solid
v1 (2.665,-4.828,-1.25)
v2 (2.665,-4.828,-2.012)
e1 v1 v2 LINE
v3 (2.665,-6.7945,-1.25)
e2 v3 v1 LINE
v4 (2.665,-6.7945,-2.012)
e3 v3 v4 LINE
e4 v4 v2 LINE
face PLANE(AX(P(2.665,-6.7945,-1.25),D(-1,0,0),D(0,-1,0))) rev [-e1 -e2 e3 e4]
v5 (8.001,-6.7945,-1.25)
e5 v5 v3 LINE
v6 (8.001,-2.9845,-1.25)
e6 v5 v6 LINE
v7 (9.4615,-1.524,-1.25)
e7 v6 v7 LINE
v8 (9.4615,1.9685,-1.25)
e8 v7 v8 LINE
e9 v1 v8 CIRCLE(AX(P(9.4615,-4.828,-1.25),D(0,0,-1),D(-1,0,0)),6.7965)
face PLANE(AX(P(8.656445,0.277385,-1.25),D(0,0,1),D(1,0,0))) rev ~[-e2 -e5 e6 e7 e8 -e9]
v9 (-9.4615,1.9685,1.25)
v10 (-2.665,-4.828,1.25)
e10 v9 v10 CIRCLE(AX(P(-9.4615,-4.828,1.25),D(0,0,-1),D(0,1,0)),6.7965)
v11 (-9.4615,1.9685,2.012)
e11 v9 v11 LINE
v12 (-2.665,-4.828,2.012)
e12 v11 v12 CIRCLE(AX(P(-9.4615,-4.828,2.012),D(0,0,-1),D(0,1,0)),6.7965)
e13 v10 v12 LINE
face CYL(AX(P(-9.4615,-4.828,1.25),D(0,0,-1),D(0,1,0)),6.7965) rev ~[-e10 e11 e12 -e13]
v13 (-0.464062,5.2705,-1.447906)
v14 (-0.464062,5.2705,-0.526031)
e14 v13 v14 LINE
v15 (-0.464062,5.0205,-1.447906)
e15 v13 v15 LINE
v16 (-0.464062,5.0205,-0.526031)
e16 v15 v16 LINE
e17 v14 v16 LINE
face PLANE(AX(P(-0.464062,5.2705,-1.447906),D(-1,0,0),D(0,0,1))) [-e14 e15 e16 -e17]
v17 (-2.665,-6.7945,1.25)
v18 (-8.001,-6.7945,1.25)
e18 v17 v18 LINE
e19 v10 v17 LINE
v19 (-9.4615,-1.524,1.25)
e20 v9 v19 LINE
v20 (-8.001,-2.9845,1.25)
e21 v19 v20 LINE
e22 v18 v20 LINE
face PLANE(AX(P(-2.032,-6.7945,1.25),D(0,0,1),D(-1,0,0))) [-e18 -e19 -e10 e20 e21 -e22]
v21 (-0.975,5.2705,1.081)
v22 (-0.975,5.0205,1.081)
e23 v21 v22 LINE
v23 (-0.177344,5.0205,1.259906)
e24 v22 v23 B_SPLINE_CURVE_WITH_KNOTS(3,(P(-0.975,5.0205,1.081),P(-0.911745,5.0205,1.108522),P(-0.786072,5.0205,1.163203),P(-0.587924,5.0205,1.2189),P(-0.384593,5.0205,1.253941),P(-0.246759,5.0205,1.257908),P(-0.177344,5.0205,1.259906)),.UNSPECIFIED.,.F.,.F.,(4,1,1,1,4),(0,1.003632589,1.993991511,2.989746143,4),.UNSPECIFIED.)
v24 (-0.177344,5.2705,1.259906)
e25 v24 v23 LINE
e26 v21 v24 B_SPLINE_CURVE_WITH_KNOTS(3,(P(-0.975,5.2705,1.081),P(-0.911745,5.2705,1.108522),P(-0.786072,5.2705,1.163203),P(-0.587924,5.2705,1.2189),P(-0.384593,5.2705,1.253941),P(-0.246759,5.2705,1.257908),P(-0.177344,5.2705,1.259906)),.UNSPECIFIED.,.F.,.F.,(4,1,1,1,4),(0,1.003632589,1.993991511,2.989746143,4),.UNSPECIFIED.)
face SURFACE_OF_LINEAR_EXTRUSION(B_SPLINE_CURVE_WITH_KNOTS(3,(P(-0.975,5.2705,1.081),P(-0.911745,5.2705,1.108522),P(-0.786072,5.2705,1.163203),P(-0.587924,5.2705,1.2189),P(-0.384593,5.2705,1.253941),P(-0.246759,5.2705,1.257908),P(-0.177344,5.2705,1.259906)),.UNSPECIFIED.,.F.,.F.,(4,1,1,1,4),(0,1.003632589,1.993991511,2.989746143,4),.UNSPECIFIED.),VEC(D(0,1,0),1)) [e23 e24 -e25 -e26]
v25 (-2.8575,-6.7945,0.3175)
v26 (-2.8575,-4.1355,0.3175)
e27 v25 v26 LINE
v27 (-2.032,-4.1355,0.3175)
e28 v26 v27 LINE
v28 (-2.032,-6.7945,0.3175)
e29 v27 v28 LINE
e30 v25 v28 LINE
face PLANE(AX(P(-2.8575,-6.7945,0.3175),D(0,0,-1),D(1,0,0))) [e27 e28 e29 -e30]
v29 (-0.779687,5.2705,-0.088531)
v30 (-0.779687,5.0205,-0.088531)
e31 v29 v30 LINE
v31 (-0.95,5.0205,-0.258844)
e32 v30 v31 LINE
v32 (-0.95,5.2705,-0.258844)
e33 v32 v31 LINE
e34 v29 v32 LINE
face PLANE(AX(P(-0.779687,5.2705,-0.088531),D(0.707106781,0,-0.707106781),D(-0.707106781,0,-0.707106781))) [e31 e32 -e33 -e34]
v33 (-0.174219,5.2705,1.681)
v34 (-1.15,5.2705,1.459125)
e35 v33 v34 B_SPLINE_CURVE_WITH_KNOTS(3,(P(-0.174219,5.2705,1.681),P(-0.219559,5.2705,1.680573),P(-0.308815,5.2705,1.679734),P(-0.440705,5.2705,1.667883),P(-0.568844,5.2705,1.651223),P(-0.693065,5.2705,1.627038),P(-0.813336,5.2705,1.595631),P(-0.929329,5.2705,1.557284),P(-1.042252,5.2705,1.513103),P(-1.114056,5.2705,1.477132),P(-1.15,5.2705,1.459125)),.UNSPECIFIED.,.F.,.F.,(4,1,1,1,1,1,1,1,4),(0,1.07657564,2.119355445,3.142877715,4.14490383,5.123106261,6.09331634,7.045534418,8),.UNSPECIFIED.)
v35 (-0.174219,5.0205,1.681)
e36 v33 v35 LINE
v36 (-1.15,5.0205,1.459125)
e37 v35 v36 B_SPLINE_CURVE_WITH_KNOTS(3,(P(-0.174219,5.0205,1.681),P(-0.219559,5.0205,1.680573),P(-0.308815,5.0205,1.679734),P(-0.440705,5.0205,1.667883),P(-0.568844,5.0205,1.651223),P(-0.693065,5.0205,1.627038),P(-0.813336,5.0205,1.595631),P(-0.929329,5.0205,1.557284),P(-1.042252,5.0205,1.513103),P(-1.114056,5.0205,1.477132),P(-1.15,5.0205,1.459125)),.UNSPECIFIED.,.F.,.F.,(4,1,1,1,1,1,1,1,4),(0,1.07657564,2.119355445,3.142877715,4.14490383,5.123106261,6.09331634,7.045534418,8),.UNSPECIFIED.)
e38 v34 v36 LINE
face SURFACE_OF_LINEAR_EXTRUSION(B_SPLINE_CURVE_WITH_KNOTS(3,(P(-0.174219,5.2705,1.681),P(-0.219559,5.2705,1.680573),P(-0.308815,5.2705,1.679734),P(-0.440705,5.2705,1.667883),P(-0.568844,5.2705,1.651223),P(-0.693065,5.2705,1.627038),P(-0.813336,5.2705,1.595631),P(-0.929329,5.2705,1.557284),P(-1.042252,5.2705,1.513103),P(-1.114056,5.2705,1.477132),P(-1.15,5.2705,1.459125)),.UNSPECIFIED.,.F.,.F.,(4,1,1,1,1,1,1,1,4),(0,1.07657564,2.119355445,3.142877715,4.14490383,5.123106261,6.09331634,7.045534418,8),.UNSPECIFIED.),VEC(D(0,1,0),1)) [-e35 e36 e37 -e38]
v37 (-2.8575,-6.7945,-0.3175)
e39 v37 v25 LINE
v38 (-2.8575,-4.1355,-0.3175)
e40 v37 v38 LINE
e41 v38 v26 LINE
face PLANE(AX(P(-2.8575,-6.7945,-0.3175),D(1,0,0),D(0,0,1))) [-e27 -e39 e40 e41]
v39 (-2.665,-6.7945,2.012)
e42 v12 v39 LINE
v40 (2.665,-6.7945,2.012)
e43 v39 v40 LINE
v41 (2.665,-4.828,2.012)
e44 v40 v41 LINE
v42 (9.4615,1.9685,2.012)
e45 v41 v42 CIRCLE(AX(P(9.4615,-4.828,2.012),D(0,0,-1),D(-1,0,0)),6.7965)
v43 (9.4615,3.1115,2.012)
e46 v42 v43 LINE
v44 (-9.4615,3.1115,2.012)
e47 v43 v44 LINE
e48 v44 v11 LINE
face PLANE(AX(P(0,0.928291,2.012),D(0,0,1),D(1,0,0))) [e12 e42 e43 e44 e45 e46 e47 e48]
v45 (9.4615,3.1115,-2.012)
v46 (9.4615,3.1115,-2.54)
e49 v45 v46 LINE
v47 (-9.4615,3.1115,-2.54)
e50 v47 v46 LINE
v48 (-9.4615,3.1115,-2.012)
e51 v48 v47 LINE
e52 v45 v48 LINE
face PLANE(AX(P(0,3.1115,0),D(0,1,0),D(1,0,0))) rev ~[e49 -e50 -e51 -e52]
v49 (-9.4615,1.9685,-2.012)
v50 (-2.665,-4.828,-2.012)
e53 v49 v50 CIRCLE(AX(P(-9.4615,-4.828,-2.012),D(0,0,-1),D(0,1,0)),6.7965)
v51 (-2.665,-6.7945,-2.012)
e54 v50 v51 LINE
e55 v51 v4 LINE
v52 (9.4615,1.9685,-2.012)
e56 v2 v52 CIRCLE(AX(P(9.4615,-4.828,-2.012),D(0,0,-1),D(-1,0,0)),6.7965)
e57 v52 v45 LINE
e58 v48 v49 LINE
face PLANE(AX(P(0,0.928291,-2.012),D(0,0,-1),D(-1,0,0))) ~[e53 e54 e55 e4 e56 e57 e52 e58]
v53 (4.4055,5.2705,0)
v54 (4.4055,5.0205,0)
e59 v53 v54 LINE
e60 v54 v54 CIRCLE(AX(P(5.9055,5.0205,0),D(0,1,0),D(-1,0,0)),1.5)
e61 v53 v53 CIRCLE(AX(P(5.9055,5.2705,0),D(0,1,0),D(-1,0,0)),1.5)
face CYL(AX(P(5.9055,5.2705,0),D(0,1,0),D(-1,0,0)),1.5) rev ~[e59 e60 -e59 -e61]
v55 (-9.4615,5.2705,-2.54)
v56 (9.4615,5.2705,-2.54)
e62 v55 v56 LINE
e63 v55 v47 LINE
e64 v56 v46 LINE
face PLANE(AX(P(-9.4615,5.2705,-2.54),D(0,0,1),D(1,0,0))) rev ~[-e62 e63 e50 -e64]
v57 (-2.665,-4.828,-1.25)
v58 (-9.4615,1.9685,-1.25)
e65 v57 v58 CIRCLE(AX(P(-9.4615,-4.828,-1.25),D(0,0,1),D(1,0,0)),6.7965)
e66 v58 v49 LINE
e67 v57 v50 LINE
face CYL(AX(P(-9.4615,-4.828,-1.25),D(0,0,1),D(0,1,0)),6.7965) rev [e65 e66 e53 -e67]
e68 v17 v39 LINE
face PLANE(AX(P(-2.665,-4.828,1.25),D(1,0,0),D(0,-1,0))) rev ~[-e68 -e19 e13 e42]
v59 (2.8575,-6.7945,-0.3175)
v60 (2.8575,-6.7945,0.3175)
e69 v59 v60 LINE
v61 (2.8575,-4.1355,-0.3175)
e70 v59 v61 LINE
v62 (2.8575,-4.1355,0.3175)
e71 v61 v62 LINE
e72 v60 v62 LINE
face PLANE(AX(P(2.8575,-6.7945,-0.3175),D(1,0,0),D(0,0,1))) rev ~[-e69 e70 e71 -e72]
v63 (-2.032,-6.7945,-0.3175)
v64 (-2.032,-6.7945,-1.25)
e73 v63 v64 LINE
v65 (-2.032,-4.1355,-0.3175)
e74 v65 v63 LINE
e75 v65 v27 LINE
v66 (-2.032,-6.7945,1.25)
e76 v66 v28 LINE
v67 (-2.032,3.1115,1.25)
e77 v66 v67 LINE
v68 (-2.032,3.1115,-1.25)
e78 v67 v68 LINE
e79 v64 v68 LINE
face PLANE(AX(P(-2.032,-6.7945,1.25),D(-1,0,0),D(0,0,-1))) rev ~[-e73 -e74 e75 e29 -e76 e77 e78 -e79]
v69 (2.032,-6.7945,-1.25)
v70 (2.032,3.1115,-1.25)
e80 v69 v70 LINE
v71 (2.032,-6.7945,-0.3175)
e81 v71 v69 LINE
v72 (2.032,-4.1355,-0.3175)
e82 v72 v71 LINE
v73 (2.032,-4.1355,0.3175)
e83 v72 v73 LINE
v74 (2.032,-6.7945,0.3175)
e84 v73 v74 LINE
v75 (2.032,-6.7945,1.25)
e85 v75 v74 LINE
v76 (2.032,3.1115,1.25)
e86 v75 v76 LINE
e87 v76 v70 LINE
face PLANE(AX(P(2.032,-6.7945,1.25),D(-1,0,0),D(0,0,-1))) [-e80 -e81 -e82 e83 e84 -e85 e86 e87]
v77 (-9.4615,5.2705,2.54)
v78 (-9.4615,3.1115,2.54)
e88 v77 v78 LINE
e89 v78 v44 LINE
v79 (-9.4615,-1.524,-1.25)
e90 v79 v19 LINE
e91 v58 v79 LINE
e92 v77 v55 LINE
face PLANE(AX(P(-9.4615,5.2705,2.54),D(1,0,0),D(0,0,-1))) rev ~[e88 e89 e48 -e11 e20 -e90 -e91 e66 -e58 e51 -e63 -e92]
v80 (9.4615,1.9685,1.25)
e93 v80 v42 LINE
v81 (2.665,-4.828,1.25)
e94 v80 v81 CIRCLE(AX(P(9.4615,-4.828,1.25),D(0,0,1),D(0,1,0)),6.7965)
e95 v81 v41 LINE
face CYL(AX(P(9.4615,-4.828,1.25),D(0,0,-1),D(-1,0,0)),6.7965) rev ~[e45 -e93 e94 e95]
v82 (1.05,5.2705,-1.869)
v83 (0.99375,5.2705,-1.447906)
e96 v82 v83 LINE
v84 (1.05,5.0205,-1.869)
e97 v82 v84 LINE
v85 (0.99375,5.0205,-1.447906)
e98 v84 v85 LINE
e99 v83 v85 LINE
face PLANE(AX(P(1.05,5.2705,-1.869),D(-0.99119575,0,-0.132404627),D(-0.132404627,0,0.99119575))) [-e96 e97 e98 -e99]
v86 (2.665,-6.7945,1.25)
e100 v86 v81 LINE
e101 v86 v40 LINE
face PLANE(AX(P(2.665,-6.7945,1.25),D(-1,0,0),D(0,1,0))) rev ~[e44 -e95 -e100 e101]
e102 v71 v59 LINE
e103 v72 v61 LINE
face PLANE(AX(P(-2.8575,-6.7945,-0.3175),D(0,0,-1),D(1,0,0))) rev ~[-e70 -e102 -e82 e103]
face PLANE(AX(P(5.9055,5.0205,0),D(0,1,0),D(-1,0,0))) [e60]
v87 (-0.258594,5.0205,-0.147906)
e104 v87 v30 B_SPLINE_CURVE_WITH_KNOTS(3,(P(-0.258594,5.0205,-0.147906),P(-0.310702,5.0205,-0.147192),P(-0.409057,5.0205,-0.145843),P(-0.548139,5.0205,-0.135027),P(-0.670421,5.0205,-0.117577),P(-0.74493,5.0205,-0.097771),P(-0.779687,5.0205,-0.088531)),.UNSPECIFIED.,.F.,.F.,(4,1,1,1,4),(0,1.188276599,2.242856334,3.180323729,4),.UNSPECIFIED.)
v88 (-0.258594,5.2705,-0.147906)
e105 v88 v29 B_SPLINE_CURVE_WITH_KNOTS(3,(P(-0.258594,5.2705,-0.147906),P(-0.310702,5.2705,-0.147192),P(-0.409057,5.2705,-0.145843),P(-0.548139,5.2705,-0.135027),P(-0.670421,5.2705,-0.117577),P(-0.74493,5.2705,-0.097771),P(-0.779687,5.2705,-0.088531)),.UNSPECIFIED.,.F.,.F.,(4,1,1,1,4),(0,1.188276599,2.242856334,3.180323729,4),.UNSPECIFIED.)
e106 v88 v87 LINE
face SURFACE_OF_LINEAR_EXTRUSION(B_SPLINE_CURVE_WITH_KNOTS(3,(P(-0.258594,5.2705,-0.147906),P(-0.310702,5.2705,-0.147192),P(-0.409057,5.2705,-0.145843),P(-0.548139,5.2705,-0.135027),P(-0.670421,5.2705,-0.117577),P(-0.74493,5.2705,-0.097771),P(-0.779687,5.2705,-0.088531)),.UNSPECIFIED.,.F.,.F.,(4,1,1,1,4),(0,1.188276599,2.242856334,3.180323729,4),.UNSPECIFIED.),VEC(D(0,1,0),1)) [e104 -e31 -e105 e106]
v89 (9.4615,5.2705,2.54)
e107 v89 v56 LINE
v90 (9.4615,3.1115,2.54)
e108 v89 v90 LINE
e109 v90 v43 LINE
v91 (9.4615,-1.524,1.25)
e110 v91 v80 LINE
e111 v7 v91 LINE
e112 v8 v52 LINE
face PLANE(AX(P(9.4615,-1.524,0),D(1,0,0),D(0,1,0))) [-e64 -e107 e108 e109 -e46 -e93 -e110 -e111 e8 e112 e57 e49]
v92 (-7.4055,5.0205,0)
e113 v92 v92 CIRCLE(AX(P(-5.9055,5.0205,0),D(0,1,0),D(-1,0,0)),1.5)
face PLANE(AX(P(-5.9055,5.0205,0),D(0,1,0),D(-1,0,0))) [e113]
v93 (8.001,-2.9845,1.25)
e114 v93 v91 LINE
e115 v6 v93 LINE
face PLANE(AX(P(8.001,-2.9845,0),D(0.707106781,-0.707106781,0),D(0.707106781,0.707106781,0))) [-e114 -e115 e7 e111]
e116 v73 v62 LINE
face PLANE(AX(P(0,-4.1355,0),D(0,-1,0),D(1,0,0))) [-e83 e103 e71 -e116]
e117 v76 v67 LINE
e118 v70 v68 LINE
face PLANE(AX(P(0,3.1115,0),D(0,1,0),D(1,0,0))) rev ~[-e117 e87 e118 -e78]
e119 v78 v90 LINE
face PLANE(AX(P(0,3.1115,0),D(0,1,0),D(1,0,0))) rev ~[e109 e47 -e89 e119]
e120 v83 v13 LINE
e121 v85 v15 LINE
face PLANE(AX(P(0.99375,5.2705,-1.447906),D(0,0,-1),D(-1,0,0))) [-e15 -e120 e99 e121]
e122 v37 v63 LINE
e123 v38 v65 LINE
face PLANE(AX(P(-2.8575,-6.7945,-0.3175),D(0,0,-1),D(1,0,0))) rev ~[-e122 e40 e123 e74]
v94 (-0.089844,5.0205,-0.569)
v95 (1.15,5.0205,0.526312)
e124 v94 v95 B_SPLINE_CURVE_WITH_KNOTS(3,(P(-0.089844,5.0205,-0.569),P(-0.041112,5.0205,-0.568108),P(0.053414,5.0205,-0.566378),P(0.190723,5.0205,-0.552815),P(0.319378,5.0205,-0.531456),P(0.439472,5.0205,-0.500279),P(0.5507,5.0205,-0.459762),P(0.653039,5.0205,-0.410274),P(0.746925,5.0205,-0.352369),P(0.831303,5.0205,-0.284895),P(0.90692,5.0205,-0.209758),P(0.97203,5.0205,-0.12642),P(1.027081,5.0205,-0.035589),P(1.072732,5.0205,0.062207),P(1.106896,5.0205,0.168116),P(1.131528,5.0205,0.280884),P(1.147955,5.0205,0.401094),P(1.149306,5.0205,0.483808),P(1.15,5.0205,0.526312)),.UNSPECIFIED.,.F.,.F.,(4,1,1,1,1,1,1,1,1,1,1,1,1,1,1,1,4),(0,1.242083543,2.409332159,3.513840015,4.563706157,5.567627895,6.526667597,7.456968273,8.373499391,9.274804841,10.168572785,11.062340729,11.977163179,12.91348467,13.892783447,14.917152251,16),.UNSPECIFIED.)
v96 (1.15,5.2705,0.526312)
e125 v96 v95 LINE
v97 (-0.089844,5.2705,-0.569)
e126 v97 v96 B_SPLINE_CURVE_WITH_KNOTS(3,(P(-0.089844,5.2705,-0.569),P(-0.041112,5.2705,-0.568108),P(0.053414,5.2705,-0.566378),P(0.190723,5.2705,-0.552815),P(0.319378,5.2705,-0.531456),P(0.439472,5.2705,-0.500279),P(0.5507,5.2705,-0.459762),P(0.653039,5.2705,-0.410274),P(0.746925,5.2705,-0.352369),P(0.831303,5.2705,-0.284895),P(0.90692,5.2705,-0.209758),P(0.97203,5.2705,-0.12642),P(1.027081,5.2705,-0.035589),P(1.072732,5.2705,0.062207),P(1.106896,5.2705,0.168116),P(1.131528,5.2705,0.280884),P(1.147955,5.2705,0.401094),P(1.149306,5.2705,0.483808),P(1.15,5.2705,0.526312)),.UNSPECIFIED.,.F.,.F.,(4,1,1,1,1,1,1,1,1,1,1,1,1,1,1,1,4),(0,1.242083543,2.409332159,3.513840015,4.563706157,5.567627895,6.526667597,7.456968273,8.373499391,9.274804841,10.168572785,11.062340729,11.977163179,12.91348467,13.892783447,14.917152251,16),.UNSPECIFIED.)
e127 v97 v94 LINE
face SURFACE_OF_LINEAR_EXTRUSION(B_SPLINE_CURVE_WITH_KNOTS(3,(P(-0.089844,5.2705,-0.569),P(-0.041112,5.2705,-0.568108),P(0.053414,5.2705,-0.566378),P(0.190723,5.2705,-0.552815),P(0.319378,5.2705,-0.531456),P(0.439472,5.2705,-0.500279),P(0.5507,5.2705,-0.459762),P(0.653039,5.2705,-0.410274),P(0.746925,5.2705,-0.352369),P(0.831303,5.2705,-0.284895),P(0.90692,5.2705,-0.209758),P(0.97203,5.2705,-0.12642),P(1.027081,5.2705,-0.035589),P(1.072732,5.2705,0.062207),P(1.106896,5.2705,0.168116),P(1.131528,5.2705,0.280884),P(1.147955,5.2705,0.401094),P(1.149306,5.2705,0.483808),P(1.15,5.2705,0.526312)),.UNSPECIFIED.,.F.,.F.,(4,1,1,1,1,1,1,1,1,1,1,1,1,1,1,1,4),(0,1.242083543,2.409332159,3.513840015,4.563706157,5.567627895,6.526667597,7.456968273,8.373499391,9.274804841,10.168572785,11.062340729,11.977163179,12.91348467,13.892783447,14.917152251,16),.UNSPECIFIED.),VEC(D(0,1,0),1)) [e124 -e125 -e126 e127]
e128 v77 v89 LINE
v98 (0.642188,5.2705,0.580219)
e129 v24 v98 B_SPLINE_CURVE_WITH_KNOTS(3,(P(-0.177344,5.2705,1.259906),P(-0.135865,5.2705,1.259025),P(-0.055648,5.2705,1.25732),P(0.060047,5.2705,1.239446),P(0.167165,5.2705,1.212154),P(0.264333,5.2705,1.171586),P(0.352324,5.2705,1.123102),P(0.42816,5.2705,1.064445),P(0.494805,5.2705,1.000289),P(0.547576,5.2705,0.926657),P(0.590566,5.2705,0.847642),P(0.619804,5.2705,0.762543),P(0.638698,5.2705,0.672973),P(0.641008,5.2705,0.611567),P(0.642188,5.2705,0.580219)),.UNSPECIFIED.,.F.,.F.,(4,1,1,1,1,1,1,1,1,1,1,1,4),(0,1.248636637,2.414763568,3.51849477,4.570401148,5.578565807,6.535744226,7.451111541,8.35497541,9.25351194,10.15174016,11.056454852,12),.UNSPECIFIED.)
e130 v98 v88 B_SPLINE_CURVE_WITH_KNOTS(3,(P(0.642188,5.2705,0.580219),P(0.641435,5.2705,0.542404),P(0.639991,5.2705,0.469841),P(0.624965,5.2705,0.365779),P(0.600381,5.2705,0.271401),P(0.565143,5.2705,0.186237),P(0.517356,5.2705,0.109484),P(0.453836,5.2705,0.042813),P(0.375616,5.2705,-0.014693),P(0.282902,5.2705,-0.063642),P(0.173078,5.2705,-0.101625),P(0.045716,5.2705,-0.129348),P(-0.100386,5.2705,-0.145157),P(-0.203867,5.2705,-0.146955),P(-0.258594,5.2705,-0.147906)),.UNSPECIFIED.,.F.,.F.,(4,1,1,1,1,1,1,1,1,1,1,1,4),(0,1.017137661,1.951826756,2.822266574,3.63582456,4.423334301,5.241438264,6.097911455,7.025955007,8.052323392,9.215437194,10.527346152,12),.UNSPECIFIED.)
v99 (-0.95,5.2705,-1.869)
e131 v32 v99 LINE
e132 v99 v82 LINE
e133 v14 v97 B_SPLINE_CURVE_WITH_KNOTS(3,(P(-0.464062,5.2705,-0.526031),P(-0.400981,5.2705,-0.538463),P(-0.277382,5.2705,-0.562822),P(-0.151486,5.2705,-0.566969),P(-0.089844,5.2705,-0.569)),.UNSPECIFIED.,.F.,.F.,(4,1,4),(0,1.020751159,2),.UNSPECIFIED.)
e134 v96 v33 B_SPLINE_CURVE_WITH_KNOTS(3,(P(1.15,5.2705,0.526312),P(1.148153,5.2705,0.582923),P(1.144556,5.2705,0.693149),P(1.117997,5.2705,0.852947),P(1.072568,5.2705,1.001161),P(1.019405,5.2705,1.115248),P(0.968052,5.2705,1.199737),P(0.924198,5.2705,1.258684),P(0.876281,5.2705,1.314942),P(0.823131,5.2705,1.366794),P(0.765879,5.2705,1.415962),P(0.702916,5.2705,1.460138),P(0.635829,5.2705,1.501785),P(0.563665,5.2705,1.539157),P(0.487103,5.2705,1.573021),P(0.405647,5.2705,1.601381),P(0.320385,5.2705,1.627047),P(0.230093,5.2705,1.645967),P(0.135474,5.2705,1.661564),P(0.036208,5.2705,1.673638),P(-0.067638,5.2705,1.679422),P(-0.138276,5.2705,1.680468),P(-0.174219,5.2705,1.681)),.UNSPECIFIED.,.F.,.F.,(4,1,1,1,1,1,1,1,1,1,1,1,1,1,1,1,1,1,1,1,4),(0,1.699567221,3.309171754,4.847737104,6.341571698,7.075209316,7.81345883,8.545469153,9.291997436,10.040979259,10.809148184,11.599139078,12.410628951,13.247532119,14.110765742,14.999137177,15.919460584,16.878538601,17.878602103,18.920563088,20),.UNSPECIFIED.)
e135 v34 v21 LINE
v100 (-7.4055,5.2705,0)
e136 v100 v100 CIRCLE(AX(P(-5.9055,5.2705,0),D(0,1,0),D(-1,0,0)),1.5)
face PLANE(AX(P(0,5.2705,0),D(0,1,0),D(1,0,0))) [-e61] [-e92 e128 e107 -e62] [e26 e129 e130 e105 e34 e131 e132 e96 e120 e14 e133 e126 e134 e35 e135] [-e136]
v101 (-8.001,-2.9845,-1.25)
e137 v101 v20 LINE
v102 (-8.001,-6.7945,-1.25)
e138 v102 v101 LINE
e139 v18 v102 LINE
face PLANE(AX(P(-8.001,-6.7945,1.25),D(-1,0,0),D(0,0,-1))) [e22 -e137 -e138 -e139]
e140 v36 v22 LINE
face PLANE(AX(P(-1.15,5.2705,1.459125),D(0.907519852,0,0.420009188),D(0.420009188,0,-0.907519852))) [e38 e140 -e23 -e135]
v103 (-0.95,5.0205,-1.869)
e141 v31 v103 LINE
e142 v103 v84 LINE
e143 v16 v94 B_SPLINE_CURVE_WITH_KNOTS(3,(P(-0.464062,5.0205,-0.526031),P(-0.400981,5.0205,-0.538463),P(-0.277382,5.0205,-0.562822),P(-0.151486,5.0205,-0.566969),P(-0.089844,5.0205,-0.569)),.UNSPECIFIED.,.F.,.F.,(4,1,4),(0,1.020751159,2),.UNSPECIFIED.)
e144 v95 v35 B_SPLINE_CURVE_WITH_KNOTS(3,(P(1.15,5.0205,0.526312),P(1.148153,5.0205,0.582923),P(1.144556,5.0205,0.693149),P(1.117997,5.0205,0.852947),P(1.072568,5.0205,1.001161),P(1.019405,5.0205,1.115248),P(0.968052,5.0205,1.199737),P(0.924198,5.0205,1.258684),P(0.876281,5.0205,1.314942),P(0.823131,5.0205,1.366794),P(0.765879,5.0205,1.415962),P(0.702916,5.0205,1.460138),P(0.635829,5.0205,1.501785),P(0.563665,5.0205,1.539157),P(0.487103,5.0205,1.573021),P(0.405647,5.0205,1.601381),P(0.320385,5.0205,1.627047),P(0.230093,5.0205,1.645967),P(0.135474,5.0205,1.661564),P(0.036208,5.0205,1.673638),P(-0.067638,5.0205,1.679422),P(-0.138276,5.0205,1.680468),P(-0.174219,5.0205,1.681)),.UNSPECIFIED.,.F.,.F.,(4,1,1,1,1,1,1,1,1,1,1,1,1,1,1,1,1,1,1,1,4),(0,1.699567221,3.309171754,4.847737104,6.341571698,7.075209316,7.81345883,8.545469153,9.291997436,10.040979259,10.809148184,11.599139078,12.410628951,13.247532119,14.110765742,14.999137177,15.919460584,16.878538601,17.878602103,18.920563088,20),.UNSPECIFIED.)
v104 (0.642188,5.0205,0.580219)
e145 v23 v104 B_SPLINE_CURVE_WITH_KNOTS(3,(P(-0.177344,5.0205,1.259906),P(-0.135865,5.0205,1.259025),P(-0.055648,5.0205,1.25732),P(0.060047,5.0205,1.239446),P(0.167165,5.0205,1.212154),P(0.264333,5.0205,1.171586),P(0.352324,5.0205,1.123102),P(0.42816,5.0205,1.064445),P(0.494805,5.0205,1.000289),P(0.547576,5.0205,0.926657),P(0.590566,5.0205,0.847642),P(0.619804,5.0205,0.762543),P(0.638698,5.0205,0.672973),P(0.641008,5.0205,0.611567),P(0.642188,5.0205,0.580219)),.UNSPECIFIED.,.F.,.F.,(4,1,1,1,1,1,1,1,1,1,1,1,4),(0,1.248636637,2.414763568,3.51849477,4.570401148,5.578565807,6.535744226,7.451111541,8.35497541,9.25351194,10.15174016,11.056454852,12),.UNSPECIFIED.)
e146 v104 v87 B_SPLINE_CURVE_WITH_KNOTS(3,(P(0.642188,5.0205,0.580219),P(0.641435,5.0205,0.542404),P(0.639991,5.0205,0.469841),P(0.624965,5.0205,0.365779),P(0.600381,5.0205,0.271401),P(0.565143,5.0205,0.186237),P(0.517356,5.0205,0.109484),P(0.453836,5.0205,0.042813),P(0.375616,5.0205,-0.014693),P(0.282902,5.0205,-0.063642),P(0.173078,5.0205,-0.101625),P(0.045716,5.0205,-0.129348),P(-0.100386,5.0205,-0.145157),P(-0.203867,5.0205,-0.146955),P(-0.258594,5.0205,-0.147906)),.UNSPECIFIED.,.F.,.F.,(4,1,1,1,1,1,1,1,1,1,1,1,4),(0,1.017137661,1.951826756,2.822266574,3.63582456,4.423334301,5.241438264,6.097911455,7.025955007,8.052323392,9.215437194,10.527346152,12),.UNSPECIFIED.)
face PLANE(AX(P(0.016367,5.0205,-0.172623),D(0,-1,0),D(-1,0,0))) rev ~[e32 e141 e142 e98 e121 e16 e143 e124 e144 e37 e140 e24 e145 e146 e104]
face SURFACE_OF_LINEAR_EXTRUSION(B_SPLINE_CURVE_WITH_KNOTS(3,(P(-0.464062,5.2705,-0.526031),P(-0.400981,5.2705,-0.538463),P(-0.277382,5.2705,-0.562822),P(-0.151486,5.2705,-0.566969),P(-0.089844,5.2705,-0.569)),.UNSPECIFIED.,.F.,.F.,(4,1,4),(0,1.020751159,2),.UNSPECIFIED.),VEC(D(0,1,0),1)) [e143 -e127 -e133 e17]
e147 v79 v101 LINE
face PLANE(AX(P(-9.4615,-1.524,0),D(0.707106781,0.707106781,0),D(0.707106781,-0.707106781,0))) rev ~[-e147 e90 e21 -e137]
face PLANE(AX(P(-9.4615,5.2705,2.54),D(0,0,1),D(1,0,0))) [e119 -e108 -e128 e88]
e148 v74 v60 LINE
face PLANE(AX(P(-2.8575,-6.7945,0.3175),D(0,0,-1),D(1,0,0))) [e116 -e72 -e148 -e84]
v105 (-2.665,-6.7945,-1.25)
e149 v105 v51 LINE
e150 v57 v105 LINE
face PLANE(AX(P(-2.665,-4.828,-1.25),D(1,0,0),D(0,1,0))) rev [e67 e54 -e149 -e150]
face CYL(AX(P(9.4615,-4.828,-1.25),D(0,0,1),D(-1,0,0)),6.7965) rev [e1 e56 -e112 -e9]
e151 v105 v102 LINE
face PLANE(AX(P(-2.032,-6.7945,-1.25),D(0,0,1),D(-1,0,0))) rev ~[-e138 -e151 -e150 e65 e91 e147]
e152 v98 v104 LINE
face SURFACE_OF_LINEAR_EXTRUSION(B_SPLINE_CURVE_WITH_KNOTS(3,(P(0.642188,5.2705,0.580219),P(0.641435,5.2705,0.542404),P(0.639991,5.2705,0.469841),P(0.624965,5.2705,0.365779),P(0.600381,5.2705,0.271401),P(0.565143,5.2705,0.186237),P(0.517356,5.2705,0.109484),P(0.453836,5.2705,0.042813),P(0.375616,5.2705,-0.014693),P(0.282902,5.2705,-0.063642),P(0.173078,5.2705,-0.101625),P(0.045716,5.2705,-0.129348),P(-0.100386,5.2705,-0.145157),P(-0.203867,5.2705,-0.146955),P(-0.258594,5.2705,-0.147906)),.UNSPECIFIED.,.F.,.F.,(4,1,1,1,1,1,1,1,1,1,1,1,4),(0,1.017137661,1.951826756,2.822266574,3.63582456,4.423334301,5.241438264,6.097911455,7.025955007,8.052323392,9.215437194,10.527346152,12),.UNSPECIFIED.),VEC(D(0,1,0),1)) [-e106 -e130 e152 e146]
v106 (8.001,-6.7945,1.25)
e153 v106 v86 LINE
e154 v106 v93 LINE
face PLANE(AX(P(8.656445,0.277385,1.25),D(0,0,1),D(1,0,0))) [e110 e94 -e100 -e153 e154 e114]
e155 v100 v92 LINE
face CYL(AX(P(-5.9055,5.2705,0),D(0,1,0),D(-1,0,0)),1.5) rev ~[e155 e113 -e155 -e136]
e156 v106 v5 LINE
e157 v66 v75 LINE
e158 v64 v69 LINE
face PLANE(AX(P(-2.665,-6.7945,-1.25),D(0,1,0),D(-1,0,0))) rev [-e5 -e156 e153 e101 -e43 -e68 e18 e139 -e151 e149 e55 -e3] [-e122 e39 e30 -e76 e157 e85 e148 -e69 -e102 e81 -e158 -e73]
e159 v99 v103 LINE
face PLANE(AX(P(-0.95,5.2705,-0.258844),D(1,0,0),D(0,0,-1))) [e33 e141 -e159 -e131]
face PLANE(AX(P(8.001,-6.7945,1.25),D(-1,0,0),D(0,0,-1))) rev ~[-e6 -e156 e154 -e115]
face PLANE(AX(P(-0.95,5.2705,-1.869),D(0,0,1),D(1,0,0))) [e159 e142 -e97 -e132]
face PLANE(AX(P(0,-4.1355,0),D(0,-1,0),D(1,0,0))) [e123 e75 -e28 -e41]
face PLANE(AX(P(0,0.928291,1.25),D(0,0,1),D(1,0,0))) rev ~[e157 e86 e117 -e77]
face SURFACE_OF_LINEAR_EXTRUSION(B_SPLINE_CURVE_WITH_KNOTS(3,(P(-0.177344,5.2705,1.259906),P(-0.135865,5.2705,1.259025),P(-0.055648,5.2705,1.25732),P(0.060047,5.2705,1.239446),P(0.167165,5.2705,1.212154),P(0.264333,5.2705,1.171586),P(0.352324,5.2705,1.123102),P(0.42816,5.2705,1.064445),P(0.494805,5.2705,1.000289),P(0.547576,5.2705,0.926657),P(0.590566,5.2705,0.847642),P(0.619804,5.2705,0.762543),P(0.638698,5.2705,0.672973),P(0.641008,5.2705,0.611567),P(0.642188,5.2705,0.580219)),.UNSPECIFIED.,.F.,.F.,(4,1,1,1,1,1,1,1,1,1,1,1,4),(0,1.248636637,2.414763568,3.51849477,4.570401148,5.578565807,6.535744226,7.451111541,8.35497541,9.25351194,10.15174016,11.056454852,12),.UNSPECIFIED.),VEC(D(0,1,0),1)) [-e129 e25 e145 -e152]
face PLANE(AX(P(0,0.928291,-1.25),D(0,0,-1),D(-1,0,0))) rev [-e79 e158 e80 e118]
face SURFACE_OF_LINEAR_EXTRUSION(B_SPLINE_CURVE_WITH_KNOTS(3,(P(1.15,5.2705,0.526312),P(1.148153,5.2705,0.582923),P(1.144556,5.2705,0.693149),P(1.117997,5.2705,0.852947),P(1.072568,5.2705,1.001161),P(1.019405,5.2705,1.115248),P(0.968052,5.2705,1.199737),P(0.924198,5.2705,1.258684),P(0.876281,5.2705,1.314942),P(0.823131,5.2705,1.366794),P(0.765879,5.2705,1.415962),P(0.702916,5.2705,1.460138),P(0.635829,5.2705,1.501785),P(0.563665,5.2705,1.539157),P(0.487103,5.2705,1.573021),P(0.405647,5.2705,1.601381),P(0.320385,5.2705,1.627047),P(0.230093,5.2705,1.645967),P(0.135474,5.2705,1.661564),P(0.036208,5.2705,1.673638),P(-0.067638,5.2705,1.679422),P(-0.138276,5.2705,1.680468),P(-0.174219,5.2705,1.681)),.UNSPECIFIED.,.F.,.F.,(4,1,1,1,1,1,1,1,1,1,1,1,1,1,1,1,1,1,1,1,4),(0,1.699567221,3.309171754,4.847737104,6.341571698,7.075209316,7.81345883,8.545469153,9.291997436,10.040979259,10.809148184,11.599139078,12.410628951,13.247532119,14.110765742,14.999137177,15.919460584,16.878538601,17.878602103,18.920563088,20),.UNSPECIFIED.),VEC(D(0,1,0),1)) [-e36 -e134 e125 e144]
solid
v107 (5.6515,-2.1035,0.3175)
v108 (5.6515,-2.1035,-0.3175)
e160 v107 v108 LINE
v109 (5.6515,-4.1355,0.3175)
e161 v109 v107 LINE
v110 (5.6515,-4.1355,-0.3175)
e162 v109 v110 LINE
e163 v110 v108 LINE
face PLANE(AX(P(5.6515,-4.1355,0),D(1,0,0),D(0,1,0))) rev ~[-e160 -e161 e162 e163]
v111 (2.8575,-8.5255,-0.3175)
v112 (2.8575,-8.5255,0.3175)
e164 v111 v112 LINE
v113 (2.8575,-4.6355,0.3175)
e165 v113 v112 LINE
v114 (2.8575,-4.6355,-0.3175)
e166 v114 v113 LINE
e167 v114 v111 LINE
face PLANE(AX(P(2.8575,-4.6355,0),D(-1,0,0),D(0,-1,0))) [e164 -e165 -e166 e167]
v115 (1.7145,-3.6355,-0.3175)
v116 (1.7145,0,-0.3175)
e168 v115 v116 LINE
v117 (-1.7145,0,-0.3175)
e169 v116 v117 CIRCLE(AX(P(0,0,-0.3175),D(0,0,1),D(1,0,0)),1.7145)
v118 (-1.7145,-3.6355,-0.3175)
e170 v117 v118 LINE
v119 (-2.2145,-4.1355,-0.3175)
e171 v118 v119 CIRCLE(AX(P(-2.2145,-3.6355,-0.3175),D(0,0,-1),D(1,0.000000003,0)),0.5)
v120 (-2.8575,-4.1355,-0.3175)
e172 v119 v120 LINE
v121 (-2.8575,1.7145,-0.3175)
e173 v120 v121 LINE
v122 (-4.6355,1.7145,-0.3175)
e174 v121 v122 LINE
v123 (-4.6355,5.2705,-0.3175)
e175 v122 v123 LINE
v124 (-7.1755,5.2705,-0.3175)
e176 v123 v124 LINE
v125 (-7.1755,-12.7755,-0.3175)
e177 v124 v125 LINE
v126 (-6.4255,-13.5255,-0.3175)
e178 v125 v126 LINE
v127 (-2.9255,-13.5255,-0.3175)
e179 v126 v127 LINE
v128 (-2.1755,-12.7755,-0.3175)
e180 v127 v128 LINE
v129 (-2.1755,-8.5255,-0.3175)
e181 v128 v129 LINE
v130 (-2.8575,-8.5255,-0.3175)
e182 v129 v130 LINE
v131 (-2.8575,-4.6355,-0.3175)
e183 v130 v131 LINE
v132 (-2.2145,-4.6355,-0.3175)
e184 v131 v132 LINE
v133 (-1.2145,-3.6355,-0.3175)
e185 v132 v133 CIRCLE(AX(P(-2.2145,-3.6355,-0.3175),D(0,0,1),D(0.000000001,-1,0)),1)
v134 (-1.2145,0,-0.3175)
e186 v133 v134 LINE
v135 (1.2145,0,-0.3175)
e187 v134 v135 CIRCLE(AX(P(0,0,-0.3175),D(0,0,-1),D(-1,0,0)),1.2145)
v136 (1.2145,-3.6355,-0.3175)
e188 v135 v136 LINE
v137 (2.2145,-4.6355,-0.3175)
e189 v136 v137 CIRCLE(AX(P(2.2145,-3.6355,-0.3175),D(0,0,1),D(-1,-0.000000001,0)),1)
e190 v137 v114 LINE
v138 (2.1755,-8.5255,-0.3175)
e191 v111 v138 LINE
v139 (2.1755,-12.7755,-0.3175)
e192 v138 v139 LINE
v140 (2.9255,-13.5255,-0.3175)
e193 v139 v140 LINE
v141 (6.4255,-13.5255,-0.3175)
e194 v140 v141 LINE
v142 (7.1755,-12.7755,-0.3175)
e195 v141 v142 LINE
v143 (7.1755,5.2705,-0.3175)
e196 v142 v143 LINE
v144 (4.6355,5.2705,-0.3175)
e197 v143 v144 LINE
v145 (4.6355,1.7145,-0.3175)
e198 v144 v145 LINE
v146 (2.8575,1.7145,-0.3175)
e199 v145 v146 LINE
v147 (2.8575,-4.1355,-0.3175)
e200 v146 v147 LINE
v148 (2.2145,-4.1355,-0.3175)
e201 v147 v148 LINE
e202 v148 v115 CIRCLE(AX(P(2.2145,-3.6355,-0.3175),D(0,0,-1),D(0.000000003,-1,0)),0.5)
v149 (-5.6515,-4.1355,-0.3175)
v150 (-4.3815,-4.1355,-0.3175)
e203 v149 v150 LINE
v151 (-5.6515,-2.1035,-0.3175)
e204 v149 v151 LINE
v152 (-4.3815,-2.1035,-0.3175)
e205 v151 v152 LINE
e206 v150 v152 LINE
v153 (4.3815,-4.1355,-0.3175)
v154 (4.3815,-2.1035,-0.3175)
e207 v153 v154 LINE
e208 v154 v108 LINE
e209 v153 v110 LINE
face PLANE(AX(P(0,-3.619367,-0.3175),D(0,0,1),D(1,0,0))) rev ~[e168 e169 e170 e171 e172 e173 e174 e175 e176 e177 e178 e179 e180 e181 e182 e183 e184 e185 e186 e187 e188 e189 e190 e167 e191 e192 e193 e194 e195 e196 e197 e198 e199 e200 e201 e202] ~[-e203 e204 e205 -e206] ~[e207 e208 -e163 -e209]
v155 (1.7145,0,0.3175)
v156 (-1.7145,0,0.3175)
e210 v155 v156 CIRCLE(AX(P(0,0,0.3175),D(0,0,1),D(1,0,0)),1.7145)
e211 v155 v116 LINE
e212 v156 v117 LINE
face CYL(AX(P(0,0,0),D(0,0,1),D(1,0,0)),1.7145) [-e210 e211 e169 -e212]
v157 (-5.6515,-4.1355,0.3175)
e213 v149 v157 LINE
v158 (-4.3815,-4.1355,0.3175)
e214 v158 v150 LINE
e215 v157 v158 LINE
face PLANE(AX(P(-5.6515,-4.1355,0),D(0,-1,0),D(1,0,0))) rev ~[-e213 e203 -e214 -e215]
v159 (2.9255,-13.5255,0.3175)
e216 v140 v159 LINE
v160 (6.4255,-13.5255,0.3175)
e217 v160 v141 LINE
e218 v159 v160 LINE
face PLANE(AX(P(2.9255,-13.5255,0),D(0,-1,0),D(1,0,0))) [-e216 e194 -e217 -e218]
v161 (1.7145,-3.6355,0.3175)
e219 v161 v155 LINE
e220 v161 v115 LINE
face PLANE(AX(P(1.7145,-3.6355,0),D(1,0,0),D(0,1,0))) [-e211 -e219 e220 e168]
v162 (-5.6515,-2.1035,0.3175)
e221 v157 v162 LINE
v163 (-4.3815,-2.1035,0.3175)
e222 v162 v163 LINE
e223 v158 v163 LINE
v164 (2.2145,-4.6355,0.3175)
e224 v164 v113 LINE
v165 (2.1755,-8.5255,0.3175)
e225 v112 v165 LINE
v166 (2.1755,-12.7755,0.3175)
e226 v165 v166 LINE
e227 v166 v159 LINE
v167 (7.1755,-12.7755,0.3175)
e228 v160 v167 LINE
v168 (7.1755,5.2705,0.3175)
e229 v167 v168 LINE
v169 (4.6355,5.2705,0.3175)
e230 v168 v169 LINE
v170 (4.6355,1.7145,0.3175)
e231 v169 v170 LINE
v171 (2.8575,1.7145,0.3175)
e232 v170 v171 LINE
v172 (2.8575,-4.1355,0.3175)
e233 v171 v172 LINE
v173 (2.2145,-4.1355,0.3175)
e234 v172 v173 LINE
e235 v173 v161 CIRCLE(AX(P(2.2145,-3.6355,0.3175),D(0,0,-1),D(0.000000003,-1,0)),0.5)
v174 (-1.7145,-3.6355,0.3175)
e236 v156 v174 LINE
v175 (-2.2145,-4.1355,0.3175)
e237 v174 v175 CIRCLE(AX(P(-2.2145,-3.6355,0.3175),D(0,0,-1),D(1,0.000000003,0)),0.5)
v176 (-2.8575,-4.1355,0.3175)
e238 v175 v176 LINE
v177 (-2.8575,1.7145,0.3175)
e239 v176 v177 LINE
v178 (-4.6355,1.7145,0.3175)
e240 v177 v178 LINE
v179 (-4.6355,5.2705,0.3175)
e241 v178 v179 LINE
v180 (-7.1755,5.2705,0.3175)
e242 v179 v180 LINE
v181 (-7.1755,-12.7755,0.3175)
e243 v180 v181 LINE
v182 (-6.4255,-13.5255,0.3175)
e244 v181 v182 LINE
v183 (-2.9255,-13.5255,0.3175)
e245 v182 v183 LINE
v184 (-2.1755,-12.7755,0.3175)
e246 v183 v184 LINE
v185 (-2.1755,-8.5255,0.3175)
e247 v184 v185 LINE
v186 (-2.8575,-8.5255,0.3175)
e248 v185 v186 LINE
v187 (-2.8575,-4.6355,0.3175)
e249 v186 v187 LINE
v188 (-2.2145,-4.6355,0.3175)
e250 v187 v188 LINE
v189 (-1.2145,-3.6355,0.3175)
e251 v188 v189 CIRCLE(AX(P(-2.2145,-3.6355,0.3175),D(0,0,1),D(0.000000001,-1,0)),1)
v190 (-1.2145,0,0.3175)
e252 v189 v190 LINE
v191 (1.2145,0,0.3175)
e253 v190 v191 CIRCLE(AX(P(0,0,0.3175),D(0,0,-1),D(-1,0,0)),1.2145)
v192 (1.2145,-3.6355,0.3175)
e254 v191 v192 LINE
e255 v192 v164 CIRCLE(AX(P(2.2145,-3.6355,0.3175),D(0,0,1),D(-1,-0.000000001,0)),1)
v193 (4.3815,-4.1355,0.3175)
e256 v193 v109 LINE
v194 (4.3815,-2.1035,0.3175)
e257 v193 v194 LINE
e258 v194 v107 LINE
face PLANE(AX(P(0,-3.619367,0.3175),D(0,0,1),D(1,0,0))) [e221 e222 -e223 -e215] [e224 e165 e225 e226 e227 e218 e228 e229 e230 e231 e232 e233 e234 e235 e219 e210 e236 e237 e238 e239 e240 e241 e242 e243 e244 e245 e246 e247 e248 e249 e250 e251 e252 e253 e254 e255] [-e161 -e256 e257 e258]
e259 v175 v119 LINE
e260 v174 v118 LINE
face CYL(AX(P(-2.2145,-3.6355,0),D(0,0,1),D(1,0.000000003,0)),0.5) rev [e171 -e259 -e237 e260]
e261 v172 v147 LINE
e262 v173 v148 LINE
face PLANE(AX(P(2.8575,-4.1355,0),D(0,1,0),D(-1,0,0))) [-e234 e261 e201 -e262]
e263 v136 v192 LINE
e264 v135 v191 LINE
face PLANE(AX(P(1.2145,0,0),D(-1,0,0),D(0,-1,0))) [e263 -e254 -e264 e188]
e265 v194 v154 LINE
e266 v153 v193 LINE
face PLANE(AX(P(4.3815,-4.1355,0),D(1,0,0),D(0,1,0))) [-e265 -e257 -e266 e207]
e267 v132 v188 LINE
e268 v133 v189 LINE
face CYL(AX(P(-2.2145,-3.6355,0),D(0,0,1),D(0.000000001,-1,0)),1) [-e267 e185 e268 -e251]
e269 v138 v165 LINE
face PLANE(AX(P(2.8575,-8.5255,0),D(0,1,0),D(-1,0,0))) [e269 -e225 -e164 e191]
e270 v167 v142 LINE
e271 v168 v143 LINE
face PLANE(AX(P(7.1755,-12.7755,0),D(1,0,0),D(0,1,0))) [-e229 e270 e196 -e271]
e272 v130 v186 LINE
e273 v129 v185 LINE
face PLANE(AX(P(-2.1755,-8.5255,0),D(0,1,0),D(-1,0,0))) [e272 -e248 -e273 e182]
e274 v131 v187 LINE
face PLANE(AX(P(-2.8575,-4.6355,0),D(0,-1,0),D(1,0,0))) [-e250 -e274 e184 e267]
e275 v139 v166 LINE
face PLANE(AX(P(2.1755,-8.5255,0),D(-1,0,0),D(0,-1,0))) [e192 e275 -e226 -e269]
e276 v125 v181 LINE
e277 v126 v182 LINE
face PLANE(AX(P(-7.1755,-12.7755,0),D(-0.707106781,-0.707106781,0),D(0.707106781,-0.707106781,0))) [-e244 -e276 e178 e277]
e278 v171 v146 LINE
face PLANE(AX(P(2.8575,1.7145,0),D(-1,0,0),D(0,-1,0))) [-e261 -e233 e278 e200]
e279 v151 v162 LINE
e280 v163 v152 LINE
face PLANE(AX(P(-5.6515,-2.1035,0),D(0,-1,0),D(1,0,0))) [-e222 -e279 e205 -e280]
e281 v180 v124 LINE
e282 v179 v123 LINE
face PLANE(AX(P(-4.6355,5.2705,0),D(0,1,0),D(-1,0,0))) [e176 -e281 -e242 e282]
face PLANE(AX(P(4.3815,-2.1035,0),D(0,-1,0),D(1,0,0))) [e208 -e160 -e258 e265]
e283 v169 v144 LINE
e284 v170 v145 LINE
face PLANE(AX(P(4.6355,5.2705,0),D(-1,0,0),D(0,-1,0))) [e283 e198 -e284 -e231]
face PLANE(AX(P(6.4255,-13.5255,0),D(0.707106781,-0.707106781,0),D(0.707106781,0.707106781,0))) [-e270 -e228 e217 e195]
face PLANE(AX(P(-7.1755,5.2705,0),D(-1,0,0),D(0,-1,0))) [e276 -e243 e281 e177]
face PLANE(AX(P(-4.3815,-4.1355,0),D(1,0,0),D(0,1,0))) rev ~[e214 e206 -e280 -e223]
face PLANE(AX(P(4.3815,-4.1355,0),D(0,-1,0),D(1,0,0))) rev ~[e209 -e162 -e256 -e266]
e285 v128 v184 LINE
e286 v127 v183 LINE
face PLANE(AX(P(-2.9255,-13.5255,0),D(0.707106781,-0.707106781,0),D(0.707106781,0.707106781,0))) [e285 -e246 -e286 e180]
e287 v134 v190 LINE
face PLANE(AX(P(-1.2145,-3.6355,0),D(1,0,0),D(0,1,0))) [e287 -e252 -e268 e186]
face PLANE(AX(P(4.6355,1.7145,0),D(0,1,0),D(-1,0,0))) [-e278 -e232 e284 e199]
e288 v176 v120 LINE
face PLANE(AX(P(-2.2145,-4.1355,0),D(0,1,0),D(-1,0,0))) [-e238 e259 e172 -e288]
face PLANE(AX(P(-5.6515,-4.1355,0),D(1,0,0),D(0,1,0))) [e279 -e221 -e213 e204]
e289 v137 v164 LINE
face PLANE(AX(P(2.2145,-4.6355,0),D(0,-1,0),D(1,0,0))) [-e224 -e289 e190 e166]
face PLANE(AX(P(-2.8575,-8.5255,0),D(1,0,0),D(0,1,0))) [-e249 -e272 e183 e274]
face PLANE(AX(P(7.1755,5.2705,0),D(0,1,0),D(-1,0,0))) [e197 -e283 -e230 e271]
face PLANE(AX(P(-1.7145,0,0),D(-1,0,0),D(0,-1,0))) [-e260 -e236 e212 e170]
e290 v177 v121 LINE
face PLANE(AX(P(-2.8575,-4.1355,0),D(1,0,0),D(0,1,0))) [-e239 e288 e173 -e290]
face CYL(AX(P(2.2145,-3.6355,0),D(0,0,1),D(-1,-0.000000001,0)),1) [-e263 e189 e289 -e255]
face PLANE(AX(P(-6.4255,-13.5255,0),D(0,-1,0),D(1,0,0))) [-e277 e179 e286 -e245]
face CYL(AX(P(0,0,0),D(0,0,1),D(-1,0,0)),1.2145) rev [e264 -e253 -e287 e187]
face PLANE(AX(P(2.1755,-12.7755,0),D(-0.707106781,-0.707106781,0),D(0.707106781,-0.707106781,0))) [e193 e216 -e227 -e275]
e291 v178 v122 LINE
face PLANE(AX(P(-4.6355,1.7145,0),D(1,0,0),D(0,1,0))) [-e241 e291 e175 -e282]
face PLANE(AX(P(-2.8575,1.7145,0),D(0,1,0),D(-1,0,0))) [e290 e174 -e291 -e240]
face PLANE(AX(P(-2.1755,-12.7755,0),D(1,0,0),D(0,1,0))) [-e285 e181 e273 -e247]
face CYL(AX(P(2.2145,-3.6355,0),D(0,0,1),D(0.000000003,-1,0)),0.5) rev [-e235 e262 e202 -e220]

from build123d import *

# Parameters (mm, degrees)
SKETCH3_W             = 1.27
SKETCH3_H             = 2.032
BOSS_EXTRUDE2_DEPTH   = 0.3175
SKETCH4_W             = 5.969
SKETCH4_H             = 2.5
BOSS_EXTRUDE3_DEPTH   = 10.16
BOSS_EXTRUDE3_2_DEPTH = 10.16
BOSS_EXTRUDE4_DEPTH   = 0.762
SKETCH7_W             = 18.923
SKETCH7_H             = 5.08
BOSS_EXTRUDE5_DEPTH   = 2.159
SKETCH9_R             = 1.5
CUT_EXTRUDE1_DEPTH    = 0.25
BOSS_EXTRUDE6_DEPTH   = 1.25
SKETCH11_W            = 5.715
SKETCH11_H            = 0.635
CUT_EXTRUDE2_DEPTH    = 2.659


with BuildPart() as part:
    # Sketch3 → Boss-Extrude2 (new, symmetric)
    with BuildSketch(Plane.XY):
        with BuildLine():
            Line((-7.1755, 5.2705), (-7.1755, -12.7755))
            Line((-7.1755, -12.7755), (-6.4255, -13.5255))
            Line((-6.4255, -13.5255), (-2.9255, -13.5255))
            Line((-2.9255, -13.5255), (-2.1755, -12.7755))
            Line((-2.1755, -12.7755), (-2.1755, -8.5255))
            Line((-2.1755, -8.5255), (-2.8575, -8.5255))
            Line((-2.8575, -8.5255), (-2.8575, -4.6355))
            Line((-2.8575, -4.6355), (-2.2145, -4.6355))
            ThreePointArc((-2.2145, -4.6355), (-1.507393219, -4.342606781), (-1.2145, -3.6355))
            Line((-1.2145, -3.6355), (-1.2145, 0))
            ThreePointArc((-1.2145, 0), (0, 1.2145), (1.2145, 0))
            Line((1.2145, 0), (1.2145, -3.6355))
            ThreePointArc((1.2145, -3.6355), (1.507393219, -4.342606781), (2.2145, -4.6355))
            Line((2.2145, -4.6355), (2.8575, -4.6355))
            Line((2.8575, -4.6355), (2.8575, -8.5255))
            Line((2.8575, -8.5255), (2.1755, -8.5255))
            Line((2.1755, -8.5255), (2.1755, -12.7755))
            Line((2.1755, -12.7755), (2.9255, -13.5255))
            Line((2.9255, -13.5255), (6.4255, -13.5255))
            Line((6.4255, -13.5255), (7.1755, -12.7755))
            Line((7.1755, -12.7755), (7.1755, 5.2705))
            Line((7.1755, 5.2705), (4.6355, 5.2705))
            Line((4.6355, 5.2705), (4.6355, 1.7145))
            Line((4.6355, 1.7145), (2.8575, 1.7145))
            Line((2.8575, 1.7145), (2.8575, -4.1355))
            Line((2.8575, -4.1355), (2.2145, -4.1355))
            ThreePointArc((2.2145, -4.1355), (1.860946609, -3.989053391), (1.7145, -3.6355))
            Line((1.7145, -3.6355), (1.7145, 0))
            ThreePointArc((1.7145, 0), (0, 1.7145), (-1.7145, 0))
            Line((-1.7145, 0), (-1.7145, -3.6355))
            ThreePointArc((-1.7145, -3.6355), (-1.860946609, -3.989053391), (-2.2145, -4.1355))
            Line((-2.2145, -4.1355), (-2.8575, -4.1355))
            Line((-2.8575, -4.1355), (-2.8575, 1.7145))
            Line((-2.8575, 1.7145), (-4.6355, 1.7145))
            Line((-4.6355, 1.7145), (-4.6355, 5.2705))
            Line((-4.6355, 5.2705), (-7.1755, 5.2705))
        make_face()
        with Locations((-5.0165, -3.1195)):
            Rectangle(SKETCH3_W, SKETCH3_H, mode=Mode.SUBTRACT)
        with Locations((5.0165, -3.1195)):
            Rectangle(SKETCH3_W, SKETCH3_H, mode=Mode.SUBTRACT)
    extrude(amount=BOSS_EXTRUDE2_DEPTH, both=True)


with BuildPart() as body_2:
    # Sketch4 → Boss-Extrude3 (new body)
    with BuildSketch(Plane(origin=(0, -6.7945, 0), x_dir=(-1, 0, 0), z_dir=(0, -1, 0))):
        with Locations((5.0165, 0)):
            Rectangle(SKETCH4_W, SKETCH4_H)
    extrude(amount=-BOSS_EXTRUDE3_DEPTH)



with BuildPart() as body_3:
    # Sketch4 → Boss-Extrude3 2 (new body)
    with BuildSketch(Plane(origin=(0, -6.7945, 0), x_dir=(-1, 0, 0), z_dir=(0, -1, 0))):
        with Locations((-5.0165, 0)):
            Rectangle(SKETCH4_W, SKETCH4_H)
    extrude(amount=-BOSS_EXTRUDE3_2_DEPTH)


with BuildPart() as body_2_1:
    add(body_2.part)

    add(body_3.part)  # Boss-Extrude4 merges body 3
    # Sketch6 → Boss-Extrude4 (add)
    with BuildSketch(Plane.XY.offset(1.25)):
        with BuildLine():
            Line((-2.665, -6.7945), (2.665, -6.7945))
            Line((2.665, -6.7945), (2.665, -4.828))
            ThreePointArc((2.665, -4.828), (4.655648762, -0.022148762), (9.4615, 1.9685))
            Line((9.4615, 1.9685), (9.4615, 5.2705))
            Line((9.4615, 5.2705), (-9.4615, 5.2705))
            Line((-9.4615, 5.2705), (-9.4615, 1.9685))
            ThreePointArc((-9.4615, 1.9685), (-4.655648762, -0.022148762), (-2.665, -4.828))
            Line((-2.665, -4.828), (-2.665, -6.7945))
        make_face()
    boss_extrude4 = extrude(amount=BOSS_EXTRUDE4_DEPTH)

    # Mirror1: Boss-Extrude4 across plane
    add(boss_extrude4.mirror(Plane.XY))

    # Sketch7 → Boss-Extrude5 (add)
    with BuildSketch(Plane(origin=(0, 5.2705, 0), x_dir=(1, 0, 0), z_dir=(0, 1, 0))):
        Rectangle(SKETCH7_W, SKETCH7_H)
    extrude(amount=-BOSS_EXTRUDE5_DEPTH)

    # Sketch9 → Cut-Extrude1 (cut)
    with BuildSketch(Plane(origin=(0, 5.2705, 0), x_dir=(1, 0, 0), z_dir=(0, 1, 0))):
        with Locations(Location((5.9055, 0, 0), (0, 0, 180))):
            Circle(SKETCH9_R)
        with Locations(Location((-5.9055, 0, 0), (0, 0, 180))):
            Circle(SKETCH9_R)
        with BuildLine():
            add(Edge.make_bspline(
                [(-0.08984375, 0.569), (-0.041112326, 0.568108111), (0.053414477, 0.566378069), (0.190723499, 0.552814929), (0.319377928, 0.531456245), (0.439472081, 0.500279339), (0.550699522, 0.459762304), (0.653038741, 0.410273503), (0.746924888, 0.352369167), (0.831303213, 0.284895181), (0.906920064, 0.2097577), (0.972030118, 0.126419749), (1.027080852, 0.035589247), (1.072732156, -0.062206793), (1.106895811, -0.16811613), (1.131527898, -0.280883518), (1.147954726, -0.401094174), (1.149305744, -0.483807908), (1.15, -0.5263125)],
                knots=[0, 0, 0, 0, 1.242083543, 2.409332159, 3.513840015, 4.563706157, 5.567627895, 6.526667597, 7.456968273, 8.373499391, 9.274804841, 10.168572785, 11.062340729, 11.977163179, 12.91348467, 13.892783447, 14.917152251, 16, 16, 16, 16], degree=3))
            add(Edge.make_bspline(
                [(1.15, -0.5263125), (1.148152893, -0.582923429), (1.144556453, -0.693148717), (1.117996809, -0.852947479), (1.072567825, -1.001160546), (1.019404848, -1.115248113), (0.968052148, -1.199737013), (0.924198198, -1.258684227), (0.876281091, -1.314942165), (0.823130962, -1.366793678), (0.7658788, -1.415961746), (0.702915837, -1.460138408), (0.635829398, -1.501785367), (0.563665011, -1.539157356), (0.487103454, -1.573020782), (0.405646825, -1.601381334), (0.3203851, -1.627046594), (0.230092594, -1.645967217), (0.135473508, -1.661563595), (0.036208375, -1.67363778), (-0.067638046, -1.679421606), (-0.138275893, -1.680467709), (-0.17421875, -1.681)],
                knots=[0, 0, 0, 0, 1.699567221, 3.309171754, 4.847737104, 6.341571698, 7.075209316, 7.81345883, 8.545469153, 9.291997436, 10.040979259, 10.809148184, 11.599139078, 12.410628951, 13.247532119, 14.110765742, 14.999137177, 15.919460584, 16.878538601, 17.878602103, 18.920563088, 20, 20, 20, 20], degree=3))
            add(Edge.make_bspline(
                [(-0.17421875, -1.681), (-0.219558645, -1.68057344), (-0.308815127, -1.67973371), (-0.440704841, -1.667883367), (-0.568843838, -1.651222543), (-0.693064547, -1.62703803), (-0.813336116, -1.595631054), (-0.929328981, -1.557284417), (-1.042251827, -1.51310255), (-1.11405573, -1.47713165), (-1.15, -1.459125)],
                knots=[0, 0, 0, 0, 1.07657564, 2.119355445, 3.142877715, 4.14490383, 5.123106261, 6.09331634, 7.045534418, 8, 8, 8, 8], degree=3))
            Line((-1.15, -1.459125), (-0.975, -1.081))
            add(Edge.make_bspline(
                [(-0.975, -1.081), (-0.91174514, -1.108522329), (-0.786072006, -1.163202988), (-0.587924377, -1.218900249), (-0.384593202, -1.253941113), (-0.246758984, -1.257908313), (-0.17734375, -1.25990625)],
                knots=[0, 0, 0, 0, 1.003632589, 1.993991511, 2.989746143, 4, 4, 4, 4], degree=3))
            add(Edge.make_bspline(
                [(-0.17734375, -1.25990625), (-0.135864948, -1.259024709), (-0.055648257, -1.25731988), (0.060047463, -1.239445634), (0.167164964, -1.21215425), (0.264332538, -1.171585644), (0.352324323, -1.123102192), (0.428159993, -1.064444524), (0.49480543, -1.000288864), (0.547575983, -0.926657097), (0.590566098, -0.84764168), (0.619803667, -0.762543287), (0.638697544, -0.672973017), (0.641008001, -0.61156687), (0.6421875, -0.58021875)],
                knots=[0, 0, 0, 0, 1.248636637, 2.414763568, 3.51849477, 4.570401148, 5.578565807, 6.535744226, 7.451111541, 8.35497541, 9.25351194, 10.15174016, 11.056454852, 12, 12, 12, 12], degree=3))
            add(Edge.make_bspline(
                [(0.6421875, -0.58021875), (0.641434932, -0.542404319), (0.639990797, -0.469840673), (0.624965164, -0.36577922), (0.60038123, -0.271400564), (0.565143495, -0.186237388), (0.51735571, -0.109484037), (0.453835804, -0.042812869), (0.375615671, 0.014693197), (0.282902013, 0.063642259), (0.173078392, 0.101624572), (0.045715757, 0.129348413), (-0.100385952, 0.145157315), (-0.203866603, 0.14695534), (-0.25859375, 0.14790625)],
                knots=[0, 0, 0, 0, 1.017137661, 1.951826756, 2.822266574, 3.63582456, 4.423334301, 5.241438264, 6.097911455, 7.025955007, 8.052323392, 9.215437194, 10.527346152, 12, 12, 12, 12], degree=3))
            add(Edge.make_bspline(
                [(-0.25859375, 0.14790625), (-0.310702302, 0.147191661), (-0.409056504, 0.145842883), (-0.548138527, 0.135026811), (-0.670420562, 0.117577348), (-0.744930117, 0.097770699), (-0.7796875, 0.08853125)],
                knots=[0, 0, 0, 0, 1.188276599, 2.242856334, 3.180323729, 4, 4, 4, 4], degree=3))
            Line((-0.7796875, 0.08853125), (-0.95, 0.25884375))
            Line((-0.95, 0.25884375), (-0.95, 1.869))
            Line((-0.95, 1.869), (1.05, 1.869))
            Line((1.05, 1.869), (0.99375, 1.44790625))
            Line((0.99375, 1.44790625), (-0.4640625, 1.44790625))
            Line((-0.4640625, 1.44790625), (-0.4640625, 0.52603125))
            add(Edge.make_bspline(
                [(-0.4640625, 0.52603125), (-0.400980755, 0.538463192), (-0.277382081, 0.56282161), (-0.151485695, 0.566969226), (-0.08984375, 0.569)],
                knots=[0, 0, 0, 0, 1.020751159, 2, 2, 2, 2], degree=3))
        make_face()
    extrude(amount=-CUT_EXTRUDE1_DEPTH, mode=Mode.SUBTRACT)

    # Sketch10 → Boss-Extrude6 (add, symmetric)
    with BuildSketch(Plane.XY):
        Polygon((-9.4615, 3.1115), (-9.4615, -1.524), (-8.001, -2.9845), (-8.001, 3.1115), align=None)
        Polygon((8.001, 3.1115), (8.001, -2.9845), (9.4615, -1.524), (9.4615, 3.1115), align=None)
    extrude(amount=BOSS_EXTRUDE6_DEPTH, both=True)

    # Sketch11 → Cut-Extrude2 (cut)
    with BuildSketch(Plane.XZ.offset(6.7945)):
        Rectangle(SKETCH11_W, SKETCH11_H)
    extrude(amount=-CUT_EXTRUDE2_DEPTH, mode=Mode.SUBTRACT)


solid = Compound([part.part, body_2_1.part])
